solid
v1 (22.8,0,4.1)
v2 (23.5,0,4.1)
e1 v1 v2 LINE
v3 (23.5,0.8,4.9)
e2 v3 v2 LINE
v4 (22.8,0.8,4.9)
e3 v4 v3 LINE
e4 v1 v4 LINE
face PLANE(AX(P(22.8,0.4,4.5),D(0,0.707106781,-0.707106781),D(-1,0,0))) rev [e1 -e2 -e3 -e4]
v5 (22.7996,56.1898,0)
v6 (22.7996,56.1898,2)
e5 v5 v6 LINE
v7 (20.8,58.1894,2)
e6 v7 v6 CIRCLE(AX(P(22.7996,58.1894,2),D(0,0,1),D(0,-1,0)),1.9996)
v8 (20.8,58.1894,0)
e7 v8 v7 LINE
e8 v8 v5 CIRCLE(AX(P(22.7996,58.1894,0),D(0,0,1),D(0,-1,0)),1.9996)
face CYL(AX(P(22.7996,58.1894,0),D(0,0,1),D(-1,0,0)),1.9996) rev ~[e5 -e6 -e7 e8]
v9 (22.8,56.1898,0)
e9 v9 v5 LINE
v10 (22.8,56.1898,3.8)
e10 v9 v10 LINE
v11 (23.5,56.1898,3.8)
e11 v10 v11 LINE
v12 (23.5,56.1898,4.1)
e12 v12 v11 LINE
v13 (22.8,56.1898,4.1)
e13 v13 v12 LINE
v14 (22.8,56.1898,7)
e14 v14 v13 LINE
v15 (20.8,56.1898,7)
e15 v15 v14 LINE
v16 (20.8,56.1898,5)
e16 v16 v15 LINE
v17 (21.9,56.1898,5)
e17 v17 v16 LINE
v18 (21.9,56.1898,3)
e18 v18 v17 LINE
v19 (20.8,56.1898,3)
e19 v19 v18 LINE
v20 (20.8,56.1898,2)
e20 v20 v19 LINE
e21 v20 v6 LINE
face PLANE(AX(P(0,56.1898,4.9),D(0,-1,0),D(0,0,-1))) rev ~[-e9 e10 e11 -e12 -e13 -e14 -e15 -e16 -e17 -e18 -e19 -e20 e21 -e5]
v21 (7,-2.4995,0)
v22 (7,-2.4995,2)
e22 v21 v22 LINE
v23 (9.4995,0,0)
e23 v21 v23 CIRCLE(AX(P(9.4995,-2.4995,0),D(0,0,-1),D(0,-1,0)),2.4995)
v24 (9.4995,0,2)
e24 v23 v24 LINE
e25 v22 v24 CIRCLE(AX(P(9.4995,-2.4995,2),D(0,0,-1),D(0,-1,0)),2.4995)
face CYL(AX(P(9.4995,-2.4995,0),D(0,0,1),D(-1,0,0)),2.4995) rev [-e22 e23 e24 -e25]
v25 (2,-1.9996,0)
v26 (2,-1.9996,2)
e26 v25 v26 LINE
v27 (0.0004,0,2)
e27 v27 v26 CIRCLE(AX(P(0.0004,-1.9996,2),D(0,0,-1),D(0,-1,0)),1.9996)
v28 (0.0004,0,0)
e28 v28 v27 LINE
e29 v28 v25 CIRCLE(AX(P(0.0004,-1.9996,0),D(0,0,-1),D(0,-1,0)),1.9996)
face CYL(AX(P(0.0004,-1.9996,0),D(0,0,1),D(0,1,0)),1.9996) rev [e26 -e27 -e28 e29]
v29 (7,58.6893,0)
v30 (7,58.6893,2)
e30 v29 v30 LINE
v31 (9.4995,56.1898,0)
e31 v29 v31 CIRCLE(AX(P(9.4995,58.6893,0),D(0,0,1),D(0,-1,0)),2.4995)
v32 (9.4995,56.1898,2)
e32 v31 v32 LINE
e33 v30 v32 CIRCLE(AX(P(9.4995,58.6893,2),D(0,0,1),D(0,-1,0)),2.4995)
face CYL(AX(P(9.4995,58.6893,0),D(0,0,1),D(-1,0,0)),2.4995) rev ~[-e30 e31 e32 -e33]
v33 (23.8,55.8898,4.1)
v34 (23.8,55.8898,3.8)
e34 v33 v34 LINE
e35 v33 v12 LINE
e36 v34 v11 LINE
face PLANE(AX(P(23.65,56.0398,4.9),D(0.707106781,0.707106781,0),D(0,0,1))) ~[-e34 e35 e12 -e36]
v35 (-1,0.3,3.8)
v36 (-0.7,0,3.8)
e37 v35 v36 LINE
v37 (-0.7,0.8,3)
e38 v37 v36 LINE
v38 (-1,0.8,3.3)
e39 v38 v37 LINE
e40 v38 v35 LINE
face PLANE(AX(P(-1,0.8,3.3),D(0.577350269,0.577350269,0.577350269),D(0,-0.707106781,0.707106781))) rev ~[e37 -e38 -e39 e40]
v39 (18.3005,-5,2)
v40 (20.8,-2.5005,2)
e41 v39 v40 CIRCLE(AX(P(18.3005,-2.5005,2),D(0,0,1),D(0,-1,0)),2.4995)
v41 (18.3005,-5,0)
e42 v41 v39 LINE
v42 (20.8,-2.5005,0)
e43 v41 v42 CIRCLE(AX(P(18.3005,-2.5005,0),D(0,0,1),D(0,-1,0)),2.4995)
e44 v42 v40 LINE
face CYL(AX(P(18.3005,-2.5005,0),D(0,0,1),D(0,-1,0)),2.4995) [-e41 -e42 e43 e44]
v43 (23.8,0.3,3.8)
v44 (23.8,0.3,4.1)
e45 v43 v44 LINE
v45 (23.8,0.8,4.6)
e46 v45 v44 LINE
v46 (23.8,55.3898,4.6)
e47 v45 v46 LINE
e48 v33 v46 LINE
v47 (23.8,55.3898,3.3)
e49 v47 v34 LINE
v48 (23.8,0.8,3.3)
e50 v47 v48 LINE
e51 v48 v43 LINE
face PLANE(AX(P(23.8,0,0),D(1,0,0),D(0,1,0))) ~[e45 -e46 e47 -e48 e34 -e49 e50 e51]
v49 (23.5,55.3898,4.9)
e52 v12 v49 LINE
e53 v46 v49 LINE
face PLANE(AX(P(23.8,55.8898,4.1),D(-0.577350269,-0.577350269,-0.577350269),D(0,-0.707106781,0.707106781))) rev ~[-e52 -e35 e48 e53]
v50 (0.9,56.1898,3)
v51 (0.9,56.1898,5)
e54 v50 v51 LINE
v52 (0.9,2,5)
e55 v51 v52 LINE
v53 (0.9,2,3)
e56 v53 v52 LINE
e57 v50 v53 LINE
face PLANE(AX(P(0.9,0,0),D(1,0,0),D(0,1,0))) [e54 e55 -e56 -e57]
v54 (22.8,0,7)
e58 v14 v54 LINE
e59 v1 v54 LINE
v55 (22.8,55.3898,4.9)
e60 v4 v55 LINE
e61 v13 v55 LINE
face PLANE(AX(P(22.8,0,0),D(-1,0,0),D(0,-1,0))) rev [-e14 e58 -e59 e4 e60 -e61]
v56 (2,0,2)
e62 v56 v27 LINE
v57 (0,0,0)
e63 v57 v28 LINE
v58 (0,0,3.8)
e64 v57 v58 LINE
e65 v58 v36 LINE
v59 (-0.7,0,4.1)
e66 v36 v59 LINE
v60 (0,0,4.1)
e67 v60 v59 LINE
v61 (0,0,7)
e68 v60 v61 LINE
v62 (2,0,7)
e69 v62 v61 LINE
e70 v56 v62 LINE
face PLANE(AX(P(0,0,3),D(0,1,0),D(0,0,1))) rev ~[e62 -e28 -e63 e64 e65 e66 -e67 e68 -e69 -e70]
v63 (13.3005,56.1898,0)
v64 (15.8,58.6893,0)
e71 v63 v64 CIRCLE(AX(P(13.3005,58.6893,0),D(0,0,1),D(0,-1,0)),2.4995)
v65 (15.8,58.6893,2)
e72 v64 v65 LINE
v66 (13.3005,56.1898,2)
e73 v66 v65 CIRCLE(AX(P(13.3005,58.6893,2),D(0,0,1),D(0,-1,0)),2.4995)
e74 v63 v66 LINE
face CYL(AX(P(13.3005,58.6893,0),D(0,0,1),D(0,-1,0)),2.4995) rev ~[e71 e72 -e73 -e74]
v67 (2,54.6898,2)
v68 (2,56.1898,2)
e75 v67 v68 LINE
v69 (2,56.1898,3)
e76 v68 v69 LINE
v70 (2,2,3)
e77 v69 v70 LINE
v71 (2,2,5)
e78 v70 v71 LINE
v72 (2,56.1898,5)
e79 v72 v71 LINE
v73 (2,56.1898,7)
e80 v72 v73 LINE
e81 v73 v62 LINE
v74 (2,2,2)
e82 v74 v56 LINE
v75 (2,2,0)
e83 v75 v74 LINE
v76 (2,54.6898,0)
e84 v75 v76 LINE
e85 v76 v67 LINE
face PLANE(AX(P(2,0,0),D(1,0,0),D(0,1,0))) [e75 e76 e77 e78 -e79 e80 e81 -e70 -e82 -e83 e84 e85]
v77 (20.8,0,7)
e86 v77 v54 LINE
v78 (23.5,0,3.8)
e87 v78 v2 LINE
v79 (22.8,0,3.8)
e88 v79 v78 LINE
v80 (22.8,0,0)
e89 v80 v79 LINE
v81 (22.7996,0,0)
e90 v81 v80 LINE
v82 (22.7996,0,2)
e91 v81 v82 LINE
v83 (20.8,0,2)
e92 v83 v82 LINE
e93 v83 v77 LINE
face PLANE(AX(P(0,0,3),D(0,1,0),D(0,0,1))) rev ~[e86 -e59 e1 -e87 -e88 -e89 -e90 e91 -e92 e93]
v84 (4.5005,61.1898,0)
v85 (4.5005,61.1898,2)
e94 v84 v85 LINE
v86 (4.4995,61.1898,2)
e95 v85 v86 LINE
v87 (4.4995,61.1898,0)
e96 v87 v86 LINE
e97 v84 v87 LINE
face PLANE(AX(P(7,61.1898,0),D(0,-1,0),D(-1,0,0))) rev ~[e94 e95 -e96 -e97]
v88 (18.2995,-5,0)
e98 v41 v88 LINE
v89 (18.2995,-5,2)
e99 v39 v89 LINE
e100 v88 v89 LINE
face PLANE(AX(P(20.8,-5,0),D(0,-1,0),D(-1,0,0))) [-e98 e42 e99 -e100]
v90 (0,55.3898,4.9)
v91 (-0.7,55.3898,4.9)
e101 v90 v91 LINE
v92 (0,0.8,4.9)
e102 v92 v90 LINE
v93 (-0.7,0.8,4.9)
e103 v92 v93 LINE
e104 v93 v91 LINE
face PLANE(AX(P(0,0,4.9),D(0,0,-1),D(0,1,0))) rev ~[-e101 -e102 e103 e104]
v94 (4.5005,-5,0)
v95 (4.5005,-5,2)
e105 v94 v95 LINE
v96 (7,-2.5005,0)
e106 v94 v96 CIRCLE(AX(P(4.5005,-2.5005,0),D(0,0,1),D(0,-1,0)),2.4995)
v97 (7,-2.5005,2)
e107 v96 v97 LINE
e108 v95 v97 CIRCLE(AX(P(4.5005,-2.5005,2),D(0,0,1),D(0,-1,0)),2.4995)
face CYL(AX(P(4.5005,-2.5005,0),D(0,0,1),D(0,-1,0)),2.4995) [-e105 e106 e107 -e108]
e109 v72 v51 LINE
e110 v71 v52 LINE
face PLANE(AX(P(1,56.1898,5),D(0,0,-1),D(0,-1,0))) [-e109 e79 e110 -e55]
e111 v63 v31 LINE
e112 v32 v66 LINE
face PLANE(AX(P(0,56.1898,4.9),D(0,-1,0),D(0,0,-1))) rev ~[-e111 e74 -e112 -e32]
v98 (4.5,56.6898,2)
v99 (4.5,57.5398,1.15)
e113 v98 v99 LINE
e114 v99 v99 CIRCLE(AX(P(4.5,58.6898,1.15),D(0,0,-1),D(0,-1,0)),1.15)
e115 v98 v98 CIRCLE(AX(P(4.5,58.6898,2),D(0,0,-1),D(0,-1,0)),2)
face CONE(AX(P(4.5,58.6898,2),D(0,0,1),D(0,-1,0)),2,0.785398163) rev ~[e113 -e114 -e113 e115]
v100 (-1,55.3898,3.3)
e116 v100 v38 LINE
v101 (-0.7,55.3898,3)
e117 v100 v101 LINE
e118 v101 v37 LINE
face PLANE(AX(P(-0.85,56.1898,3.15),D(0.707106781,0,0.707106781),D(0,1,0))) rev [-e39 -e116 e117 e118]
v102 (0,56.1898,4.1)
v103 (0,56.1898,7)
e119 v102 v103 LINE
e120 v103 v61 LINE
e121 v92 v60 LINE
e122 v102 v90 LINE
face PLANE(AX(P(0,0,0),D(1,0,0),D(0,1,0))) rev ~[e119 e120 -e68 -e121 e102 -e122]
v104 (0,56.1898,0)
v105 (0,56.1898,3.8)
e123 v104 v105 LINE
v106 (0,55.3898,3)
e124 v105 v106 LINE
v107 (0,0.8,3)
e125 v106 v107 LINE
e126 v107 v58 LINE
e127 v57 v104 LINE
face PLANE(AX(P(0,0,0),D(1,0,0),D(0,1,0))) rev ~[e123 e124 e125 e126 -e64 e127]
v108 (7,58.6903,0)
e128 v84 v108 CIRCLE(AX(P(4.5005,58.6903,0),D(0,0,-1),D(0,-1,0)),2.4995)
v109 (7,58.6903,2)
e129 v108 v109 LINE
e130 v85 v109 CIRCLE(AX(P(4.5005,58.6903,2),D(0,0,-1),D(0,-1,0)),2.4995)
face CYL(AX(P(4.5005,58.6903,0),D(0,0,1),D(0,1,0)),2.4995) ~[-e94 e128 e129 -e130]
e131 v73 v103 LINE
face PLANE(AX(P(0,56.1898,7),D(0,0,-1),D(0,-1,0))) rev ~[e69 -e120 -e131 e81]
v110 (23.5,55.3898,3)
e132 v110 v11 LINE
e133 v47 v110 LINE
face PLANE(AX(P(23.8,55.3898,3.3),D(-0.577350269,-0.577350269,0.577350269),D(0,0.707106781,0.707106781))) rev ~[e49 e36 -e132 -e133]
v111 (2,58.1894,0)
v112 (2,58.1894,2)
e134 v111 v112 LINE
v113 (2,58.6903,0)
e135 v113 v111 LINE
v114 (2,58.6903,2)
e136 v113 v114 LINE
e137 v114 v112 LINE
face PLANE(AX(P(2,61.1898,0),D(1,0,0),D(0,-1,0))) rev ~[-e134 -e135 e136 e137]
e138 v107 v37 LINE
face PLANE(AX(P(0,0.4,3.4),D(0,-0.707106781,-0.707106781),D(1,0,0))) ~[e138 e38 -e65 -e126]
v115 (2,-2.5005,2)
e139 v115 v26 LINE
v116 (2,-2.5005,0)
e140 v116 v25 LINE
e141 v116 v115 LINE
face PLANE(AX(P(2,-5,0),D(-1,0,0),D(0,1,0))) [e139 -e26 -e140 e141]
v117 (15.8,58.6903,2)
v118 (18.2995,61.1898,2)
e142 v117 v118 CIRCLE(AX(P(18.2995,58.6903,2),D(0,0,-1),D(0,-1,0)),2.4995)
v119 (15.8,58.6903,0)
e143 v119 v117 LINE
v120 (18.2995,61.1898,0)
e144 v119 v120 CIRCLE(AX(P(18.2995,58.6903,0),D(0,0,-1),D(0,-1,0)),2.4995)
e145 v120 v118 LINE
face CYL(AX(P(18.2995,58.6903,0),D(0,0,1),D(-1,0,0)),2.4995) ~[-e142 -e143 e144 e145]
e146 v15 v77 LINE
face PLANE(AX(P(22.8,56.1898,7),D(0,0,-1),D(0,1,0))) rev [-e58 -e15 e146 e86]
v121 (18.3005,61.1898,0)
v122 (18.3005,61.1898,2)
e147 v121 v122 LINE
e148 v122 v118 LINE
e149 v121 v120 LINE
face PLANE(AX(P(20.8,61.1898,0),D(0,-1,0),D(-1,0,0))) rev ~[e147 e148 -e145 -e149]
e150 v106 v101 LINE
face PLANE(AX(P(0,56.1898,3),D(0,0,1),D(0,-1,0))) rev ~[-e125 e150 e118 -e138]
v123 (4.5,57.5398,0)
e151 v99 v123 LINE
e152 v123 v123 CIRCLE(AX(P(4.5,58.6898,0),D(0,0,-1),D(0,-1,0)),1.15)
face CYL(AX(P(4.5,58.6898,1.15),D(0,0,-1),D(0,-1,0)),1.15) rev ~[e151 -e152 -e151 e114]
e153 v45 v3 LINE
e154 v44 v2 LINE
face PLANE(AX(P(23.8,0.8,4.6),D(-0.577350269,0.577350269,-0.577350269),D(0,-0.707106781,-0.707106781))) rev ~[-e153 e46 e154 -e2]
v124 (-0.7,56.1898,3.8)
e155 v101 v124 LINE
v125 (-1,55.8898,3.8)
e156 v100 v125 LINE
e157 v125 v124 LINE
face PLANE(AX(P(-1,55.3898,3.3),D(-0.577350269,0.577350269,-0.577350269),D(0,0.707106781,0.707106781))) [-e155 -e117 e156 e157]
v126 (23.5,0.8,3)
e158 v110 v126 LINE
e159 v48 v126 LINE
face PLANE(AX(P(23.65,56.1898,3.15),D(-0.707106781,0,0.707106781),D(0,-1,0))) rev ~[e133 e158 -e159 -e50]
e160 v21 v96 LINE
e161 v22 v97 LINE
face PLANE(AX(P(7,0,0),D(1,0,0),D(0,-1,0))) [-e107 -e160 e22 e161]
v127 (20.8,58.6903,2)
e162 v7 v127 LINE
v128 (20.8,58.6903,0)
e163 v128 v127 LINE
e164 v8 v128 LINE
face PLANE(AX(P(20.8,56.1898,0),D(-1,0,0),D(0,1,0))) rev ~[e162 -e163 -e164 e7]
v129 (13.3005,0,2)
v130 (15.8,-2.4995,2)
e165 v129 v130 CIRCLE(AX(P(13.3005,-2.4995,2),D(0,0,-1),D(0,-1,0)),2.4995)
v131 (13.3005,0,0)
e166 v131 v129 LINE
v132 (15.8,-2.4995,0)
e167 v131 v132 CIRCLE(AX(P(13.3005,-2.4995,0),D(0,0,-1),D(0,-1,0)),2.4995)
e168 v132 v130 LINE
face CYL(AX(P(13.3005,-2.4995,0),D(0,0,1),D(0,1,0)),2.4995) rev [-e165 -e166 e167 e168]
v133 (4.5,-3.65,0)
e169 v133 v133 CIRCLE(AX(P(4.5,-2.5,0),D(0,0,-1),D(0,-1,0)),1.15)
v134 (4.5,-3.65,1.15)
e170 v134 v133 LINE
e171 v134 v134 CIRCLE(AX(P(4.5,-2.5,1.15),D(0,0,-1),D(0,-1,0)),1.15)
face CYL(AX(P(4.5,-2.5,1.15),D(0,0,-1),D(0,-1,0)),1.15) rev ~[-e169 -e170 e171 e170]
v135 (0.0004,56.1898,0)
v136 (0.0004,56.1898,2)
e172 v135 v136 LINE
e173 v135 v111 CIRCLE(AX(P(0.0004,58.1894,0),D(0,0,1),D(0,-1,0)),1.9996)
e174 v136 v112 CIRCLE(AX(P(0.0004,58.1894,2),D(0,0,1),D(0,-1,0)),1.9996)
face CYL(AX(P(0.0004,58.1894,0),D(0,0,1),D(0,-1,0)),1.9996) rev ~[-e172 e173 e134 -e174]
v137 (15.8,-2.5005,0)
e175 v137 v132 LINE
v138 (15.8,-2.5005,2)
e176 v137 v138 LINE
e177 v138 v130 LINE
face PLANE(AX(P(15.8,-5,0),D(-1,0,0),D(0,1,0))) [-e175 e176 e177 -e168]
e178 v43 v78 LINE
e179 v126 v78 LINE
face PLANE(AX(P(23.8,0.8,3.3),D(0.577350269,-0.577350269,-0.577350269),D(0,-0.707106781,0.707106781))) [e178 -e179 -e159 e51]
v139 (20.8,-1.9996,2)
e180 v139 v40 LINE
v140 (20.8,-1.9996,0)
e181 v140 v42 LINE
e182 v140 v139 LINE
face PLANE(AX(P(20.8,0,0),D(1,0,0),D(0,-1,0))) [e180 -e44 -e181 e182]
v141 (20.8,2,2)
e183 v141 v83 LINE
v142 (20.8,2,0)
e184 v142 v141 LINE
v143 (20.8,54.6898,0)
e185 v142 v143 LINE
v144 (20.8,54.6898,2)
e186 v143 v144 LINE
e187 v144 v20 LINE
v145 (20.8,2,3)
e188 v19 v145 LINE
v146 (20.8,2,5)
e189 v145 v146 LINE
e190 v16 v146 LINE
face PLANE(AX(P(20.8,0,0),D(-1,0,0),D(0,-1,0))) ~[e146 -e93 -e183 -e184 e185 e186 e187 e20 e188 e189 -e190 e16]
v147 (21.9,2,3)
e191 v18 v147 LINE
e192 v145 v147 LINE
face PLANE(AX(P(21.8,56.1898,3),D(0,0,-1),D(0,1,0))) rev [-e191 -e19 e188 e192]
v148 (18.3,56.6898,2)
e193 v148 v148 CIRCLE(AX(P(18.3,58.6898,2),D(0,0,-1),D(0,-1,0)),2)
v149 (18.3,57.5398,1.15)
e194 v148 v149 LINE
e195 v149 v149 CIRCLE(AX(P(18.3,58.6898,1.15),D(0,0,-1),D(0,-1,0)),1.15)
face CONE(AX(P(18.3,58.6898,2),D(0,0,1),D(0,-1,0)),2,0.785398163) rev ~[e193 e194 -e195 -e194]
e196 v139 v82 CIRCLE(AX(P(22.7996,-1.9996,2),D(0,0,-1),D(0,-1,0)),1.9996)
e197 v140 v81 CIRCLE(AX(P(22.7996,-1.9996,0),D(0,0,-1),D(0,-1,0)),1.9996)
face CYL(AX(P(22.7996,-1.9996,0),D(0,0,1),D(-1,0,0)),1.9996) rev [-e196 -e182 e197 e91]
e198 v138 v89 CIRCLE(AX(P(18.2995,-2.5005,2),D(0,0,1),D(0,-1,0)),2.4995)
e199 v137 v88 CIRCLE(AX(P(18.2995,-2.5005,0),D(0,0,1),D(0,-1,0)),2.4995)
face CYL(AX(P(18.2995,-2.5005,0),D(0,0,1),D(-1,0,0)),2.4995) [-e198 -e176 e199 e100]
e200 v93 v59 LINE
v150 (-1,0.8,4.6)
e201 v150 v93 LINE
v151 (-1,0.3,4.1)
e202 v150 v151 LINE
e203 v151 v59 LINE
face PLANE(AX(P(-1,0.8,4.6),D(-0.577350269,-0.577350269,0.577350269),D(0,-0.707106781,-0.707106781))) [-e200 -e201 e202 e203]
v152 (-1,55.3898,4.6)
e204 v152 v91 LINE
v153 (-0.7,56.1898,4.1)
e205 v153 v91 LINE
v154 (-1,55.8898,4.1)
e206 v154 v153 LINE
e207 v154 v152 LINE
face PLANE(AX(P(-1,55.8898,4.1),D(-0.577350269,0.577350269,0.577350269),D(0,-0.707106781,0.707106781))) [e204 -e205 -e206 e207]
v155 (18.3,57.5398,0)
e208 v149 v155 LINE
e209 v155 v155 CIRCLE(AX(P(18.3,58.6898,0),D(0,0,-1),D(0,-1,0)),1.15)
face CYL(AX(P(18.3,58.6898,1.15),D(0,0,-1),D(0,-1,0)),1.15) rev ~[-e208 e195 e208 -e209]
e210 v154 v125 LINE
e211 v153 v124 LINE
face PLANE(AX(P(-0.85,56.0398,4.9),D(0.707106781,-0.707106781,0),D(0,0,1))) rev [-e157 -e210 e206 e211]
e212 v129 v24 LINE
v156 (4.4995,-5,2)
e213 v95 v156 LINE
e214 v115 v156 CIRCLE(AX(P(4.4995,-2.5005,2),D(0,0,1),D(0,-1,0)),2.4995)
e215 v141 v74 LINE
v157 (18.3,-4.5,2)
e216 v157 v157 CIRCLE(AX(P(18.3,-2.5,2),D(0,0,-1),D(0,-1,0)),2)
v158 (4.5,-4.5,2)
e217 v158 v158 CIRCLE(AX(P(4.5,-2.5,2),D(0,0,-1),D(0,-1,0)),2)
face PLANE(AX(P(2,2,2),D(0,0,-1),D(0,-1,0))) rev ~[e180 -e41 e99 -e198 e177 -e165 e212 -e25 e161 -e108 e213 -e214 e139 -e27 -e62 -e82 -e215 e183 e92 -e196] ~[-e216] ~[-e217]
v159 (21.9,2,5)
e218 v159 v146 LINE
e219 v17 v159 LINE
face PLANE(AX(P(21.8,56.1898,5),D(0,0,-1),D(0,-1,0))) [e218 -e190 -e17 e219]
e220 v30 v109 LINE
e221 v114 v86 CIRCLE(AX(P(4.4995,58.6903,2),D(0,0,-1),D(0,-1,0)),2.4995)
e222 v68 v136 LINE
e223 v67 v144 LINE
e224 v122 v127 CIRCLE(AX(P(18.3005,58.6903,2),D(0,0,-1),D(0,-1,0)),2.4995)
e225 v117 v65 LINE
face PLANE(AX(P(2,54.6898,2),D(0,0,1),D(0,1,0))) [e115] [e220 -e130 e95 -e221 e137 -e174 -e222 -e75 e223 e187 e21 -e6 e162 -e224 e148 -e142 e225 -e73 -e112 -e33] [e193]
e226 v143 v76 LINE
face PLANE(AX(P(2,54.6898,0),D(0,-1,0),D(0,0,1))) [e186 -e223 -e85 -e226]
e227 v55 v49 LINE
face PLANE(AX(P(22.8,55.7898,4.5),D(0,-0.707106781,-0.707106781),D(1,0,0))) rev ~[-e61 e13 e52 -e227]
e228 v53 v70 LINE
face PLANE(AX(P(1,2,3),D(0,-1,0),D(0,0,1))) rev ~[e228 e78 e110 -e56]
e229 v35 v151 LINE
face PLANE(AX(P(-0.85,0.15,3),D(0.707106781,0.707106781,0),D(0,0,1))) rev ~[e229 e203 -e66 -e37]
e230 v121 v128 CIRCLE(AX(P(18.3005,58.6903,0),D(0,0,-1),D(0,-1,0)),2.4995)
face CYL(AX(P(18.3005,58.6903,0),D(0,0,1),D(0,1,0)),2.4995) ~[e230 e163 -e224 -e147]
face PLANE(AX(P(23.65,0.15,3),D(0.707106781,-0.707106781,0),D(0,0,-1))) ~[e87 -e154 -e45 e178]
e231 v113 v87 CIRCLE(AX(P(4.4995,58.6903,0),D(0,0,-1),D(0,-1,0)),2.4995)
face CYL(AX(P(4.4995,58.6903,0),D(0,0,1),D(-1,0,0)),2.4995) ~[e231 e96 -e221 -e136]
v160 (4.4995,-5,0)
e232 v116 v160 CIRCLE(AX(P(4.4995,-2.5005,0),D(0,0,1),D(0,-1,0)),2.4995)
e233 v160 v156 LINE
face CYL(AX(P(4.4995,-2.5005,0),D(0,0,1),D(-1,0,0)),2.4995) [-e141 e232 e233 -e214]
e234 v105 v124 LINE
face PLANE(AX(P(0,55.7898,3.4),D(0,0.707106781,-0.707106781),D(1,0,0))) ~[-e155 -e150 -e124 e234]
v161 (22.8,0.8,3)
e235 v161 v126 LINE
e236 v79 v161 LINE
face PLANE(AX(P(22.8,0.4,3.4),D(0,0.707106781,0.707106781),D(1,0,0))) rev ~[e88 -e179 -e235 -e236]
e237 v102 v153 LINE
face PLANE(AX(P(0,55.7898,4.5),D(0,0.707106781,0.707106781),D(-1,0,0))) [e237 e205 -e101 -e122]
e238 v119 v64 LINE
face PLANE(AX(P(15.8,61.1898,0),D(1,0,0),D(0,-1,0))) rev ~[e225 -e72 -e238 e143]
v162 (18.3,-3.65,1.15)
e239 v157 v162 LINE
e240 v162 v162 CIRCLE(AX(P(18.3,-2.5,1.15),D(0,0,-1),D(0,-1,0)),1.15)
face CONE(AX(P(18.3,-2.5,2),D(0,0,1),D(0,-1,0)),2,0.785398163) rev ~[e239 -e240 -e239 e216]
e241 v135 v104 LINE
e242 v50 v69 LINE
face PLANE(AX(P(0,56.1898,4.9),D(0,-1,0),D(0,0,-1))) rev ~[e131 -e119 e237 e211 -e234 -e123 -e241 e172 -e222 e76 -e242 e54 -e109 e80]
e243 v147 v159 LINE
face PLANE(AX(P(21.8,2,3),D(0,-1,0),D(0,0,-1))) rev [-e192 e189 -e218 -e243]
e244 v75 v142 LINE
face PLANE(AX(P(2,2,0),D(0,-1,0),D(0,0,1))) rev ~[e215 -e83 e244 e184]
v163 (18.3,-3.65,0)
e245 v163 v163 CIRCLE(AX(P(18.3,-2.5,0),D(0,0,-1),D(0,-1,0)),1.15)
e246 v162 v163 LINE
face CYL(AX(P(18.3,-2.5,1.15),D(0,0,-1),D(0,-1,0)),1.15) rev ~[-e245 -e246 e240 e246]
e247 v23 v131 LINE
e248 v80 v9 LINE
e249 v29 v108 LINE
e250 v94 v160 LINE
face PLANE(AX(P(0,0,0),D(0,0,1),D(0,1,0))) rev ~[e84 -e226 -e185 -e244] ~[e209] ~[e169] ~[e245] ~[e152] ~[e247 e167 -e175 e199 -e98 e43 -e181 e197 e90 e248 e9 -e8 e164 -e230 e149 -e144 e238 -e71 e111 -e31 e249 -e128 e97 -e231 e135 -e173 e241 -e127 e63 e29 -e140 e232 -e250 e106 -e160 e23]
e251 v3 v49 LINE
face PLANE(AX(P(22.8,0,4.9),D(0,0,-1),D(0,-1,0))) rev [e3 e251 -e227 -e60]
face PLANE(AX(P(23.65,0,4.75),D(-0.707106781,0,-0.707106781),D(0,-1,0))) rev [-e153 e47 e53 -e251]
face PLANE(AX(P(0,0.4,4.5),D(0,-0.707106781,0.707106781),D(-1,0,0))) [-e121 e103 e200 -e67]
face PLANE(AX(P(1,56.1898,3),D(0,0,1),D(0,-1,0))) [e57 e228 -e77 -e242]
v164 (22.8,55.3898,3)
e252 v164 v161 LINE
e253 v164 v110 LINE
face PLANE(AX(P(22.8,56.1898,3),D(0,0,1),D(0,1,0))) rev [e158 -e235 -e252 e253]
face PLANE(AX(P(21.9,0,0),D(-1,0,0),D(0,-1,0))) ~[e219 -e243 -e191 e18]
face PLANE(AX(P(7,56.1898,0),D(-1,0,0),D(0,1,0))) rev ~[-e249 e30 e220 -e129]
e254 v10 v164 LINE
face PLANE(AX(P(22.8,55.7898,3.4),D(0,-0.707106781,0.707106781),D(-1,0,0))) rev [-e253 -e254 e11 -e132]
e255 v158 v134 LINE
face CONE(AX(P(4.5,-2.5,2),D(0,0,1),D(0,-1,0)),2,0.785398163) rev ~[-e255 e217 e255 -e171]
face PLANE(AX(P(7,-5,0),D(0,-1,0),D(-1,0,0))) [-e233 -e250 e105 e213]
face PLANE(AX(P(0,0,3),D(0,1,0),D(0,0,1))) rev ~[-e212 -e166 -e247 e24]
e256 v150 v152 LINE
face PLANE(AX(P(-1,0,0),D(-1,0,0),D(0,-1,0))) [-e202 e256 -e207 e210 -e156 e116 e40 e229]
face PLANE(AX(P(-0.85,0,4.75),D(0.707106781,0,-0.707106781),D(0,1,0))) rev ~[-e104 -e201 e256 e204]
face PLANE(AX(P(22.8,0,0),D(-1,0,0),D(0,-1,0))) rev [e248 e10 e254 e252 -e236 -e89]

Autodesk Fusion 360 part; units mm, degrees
sketch "Sketch1" plane through (0, 0, 0) normal (1, 0, 0) x (0, 1, 0)
  line L0 (0, 0) -> (56.1898, 0)
  line L1 (56.1898, 0) -> (56.1898, 7)
  line L2 (56.1898, 7) -> (0, 7)
  line L3 (0, 7) -> (0, 0)
  dimension "d1" = 7
extrude "Extrude1" add sketch "Sketch1" along normal blind 1
sketch "Sketch2" plane through (1, 0, 0) normal (1, 0, 0) x (0, 1, 0)
  line L0 (0, 7) -> (0, 0)
  line L1 (0, 0) -> (56.1898, 0)
  line L2 (56.1898, 0) -> (56.1898, 7)
  line L3 (56.1898, 7) -> (0, 7)
  line L4 (0, 0) -> (56.1898, 0)
  line L5 (56.1898, 0) -> (56.1898, 3)
  line L6 (56.1898, 3) -> (0, 3)
  line L7 (0, 3) -> (0, 0)
  line L8 (0, 7) -> (56.1898, 7)
  line L9 (56.1898, 7) -> (56.1898, 5)
  line L10 (56.1898, 5) -> (0, 5)
  line L11 (0, 5) -> (0, 7)
  line L12 (0, 3) -> (2, 3)
  line L13 (2, 3) -> (2, 5)
  line L14 (2, 5) -> (0, 5)
  line L15 (0, 5) -> (0, 3)
  dimension "d4" = 3
  dimension "d5" = 2
  dimension "d12" = 2
extrude "Extrude2" add sketch "Sketch2" along normal blind 1 contours L0 L2 L3 L8 L9 L10 L11 L14 | L0 L6 L10 L12 L13 L14 L15 | L0 L1 L2 L4 L5 L6 L7 L12
sketch "Sketch3" plane through (0, 0, 0) normal (-1, 0, 0) x (0, -1, 0)
  line L0 (0, 0) -> (0, 7)
  line L1 (0, 7) -> (-56.1898, 7)
  line L2 (-56.1898, 7) -> (-56.1898, 0)
  line L3 (-56.1898, 0) -> (0, 0)
  line L4 (-56.1898, 3) -> (0, 3)
  line L5 (0, 3) -> (0, 4.9)
  line L6 (0, 4.9) -> (-56.1898, 4.9)
  line L7 (-56.1898, 4.9) -> (-56.1898, 3)
  dimension "d8" = 1.9
  dimension "d9" = 3
extrude "Extrude3" add sketch "Sketch3" along normal blind 1 contours L0 L2 L4 L5 L6 L7
sketch "Sketch4" plane through (2, 0, 0) normal (1, 0, 0) x (0, 1, 0)
  line L0 (0, 7) -> (0, 0)
  line L1 (0, 0) -> (56.1898, 0)
  line L2 (56.1898, 0) -> (56.1898, 3)
  line L3 (56.1898, 3) -> (2, 3)
  line L4 (2, 3) -> (2, 5)
  line L5 (2, 5) -> (56.1898, 5)
  line L6 (56.1898, 5) -> (56.1898, 7)
  line L7 (56.1898, 7) -> (0, 7)
  line L8 (0, 0) -> (2, 0)
  line L9 (2, 0) -> (2, 2)
  line L10 (2, 2) -> (0, 2)
  line L11 (0, 2) -> (0, 0)
  line L12 (56.1898, 0) -> (54.6898, 0)
  line L13 (54.6898, 0) -> (54.6898, 2)
  line L14 (54.6898, 2) -> (56.1898, 2)
  line L15 (56.1898, 2) -> (56.1898, 0)
  dimension "d13" = 2
  dimension "d14" = 2
  dimension "d15" = 1.5
  dimension "d16" = 2
extrude "Extrude4" add sketch "Sketch4" along normal blind 9.4 contours L0 L1 L8 L9 L10 L11 | L1 L2 L12 L13 L14 L15
mirror "Mirror1" about plane through (11.4, 0, 0) normal (1, 0, 0) of bodies 1 merged
extrude "Extrude5" cut 1 faces at (21.8, 20.0633, 4.3333) along direction (1, 0, 0) blind 0.1
extrude "Extrude6" cut 1 faces at (1, 20.0633, 4.3333) along direction (-1, 0, 0) blind 0.1
sketch "Sketch5" plane through (0, 0, 0) normal (0, 0, -1) x (1, 0, 0)
  line L0 (20.8, -54.6898) -> (2, -54.6898)
  line L1 (2, -54.6898) -> (2, -2)
  line L2 (2, -2) -> (20.8, -2)
  line L3 (20.8, -2) -> (20.8, -54.6898)
  line L4 (0, -56.1898) -> (22.8, -56.1898)
  line L5 (22.8, -56.1898) -> (22.8, 0)
  line L6 (22.8, 0) -> (0, 0)
  line L7 (0, 0) -> (0, -56.1898)
  line L8 (2, 0) -> (7, 0)
  line L9 (7, 0) -> (7, 5)
  line L10 (7, 5) -> (2, 5)
  line L11 (2, 5) -> (2, 0)
  line L12 (15.8, 0) -> (20.8, 0)
  line L13 (20.8, 0) -> (20.8, 5)
  line L14 (20.8, 5) -> (15.8, 5)
  line L15 (15.8, 5) -> (15.8, 0)
  line L16 (2, -56.1898) -> (7, -56.1898)
  line L17 (7, -56.1898) -> (7, -61.1898)
  line L18 (7, -61.1898) -> (2, -61.1898)
  line L19 (2, -61.1898) -> (2, -56.1898)
  line L20 (15.8, -56.1898) -> (20.8, -56.1898)
  line L21 (20.8, -56.1898) -> (20.8, -61.1898)
  line L22 (20.8, -61.1898) -> (15.8, -61.1898)
  line L23 (15.8, -61.1898) -> (15.8, -56.1898)
  dimension "d25" = 5
  dimension "d26" = 5
  dimension "d27" = 5
  dimension "d28" = 5
  dimension "d30" = 2
  dimension "d31" = 2
  dimension "d32" = 5
  dimension "d33" = 5
  dimension "d34" = 5
  dimension "d35" = 5
  dimension "d36" = 2
  dimension "d37" = 2
extrude "Extrude7" add sketch "Sketch5" against normal blind 2 contours L4 L16 L17 L18 L19 | L6 L8 L9 L10 L11 | L4 L20 L21 L22 L23 | L6 L12 L13 L14 L15
sketch "Sketch6" plane through (0, 0, 2) normal (0, 0, 1) x (-1, 0, 0)
  line L0 (-2, -2) -> (-2, 0)
  line L1 (-2, 0) -> (-2, 5)
  line L2 (-2, 5) -> (-7, 5)
  line L3 (-7, 5) -> (-7, 0)
  line L4 (-7, 0) -> (-15.8, 0)
  line L5 (-15.8, 0) -> (-15.8, 5)
  line L6 (-15.8, 5) -> (-20.8, 5)
  line L7 (-20.8, 5) -> (-20.8, 0)
  line L8 (-20.8, 0) -> (-20.8, -2)
  line L9 (-20.8, -2) -> (-2, -2)
  circle A0 centre (-4.5, 2.5) radius 0.5
  circle A1 centre (-18.3, 2.5) radius 0.5
  circle A2 centre (-4.5, -58.6898) radius 0.5
  circle A3 centre (-18.3, -58.6898) radius 0.5
  line L10 (-7, -61.1898) -> (-2, -61.1898)
  dimension "d40" = 1
  dimension "d41" = 1
  dimension "d42" = 1
  dimension "d43" = 1
  dimension "d44" = 2.5
  dimension "d45" = 2.5
  dimension "d46" = 2.5
  dimension "d47" = 2.5
hole "Hole1" at (4.5, 58.6898, 2) at (18.3, 58.6898, 2) at (4.5, -2.5, 2) at (18.3, -2.5, 2) direction (0, 0, -1) diameter 2.3 depth 17 tip angle 180 countersink diameter 4 countersink angle 90
fillet "Fillet1" radius 2.5 12 edges at (7, -5, 1) (7, 0, 1) (2, -5, 1) (15.8, -5, 1) (20.8, -5, 1) (15.8, 0, 1) (20.8, 61.1898, 1) (15.8, 61.1898, 1) (7, 56.1898, 1) (7, 61.1898, 1) (2, 61.1898, 1) (15.8, 56.1898, 1)
fillet "Fillet1" radius 2 4 edges at (2, 56.1898, 1) (20.8, 56.1898, 1) (20.8, 0, 1) (2, 0, 1)
chamfer "Chamfer1" distance 0.8 angle 45 8 edges at (-0.5, 0, 4.9) (-0.5, 0, 3) (23.3, 0, 3) (23.3, 0, 4.9) (23.3, 56.1898, 4.9) (23.3, 56.1898, 3) (-0.5, 56.1898, 3) (-0.5, 56.1898, 4.9)
chamfer "Chamfer1" distance 0.3 angle 45 2 faces at (-1, 37.4599, 4.2667) (23.8, 37.4599, 4.2667)
equation "d17 = ( 20.8 / 2 ) * 1 mm - 1 mm"
